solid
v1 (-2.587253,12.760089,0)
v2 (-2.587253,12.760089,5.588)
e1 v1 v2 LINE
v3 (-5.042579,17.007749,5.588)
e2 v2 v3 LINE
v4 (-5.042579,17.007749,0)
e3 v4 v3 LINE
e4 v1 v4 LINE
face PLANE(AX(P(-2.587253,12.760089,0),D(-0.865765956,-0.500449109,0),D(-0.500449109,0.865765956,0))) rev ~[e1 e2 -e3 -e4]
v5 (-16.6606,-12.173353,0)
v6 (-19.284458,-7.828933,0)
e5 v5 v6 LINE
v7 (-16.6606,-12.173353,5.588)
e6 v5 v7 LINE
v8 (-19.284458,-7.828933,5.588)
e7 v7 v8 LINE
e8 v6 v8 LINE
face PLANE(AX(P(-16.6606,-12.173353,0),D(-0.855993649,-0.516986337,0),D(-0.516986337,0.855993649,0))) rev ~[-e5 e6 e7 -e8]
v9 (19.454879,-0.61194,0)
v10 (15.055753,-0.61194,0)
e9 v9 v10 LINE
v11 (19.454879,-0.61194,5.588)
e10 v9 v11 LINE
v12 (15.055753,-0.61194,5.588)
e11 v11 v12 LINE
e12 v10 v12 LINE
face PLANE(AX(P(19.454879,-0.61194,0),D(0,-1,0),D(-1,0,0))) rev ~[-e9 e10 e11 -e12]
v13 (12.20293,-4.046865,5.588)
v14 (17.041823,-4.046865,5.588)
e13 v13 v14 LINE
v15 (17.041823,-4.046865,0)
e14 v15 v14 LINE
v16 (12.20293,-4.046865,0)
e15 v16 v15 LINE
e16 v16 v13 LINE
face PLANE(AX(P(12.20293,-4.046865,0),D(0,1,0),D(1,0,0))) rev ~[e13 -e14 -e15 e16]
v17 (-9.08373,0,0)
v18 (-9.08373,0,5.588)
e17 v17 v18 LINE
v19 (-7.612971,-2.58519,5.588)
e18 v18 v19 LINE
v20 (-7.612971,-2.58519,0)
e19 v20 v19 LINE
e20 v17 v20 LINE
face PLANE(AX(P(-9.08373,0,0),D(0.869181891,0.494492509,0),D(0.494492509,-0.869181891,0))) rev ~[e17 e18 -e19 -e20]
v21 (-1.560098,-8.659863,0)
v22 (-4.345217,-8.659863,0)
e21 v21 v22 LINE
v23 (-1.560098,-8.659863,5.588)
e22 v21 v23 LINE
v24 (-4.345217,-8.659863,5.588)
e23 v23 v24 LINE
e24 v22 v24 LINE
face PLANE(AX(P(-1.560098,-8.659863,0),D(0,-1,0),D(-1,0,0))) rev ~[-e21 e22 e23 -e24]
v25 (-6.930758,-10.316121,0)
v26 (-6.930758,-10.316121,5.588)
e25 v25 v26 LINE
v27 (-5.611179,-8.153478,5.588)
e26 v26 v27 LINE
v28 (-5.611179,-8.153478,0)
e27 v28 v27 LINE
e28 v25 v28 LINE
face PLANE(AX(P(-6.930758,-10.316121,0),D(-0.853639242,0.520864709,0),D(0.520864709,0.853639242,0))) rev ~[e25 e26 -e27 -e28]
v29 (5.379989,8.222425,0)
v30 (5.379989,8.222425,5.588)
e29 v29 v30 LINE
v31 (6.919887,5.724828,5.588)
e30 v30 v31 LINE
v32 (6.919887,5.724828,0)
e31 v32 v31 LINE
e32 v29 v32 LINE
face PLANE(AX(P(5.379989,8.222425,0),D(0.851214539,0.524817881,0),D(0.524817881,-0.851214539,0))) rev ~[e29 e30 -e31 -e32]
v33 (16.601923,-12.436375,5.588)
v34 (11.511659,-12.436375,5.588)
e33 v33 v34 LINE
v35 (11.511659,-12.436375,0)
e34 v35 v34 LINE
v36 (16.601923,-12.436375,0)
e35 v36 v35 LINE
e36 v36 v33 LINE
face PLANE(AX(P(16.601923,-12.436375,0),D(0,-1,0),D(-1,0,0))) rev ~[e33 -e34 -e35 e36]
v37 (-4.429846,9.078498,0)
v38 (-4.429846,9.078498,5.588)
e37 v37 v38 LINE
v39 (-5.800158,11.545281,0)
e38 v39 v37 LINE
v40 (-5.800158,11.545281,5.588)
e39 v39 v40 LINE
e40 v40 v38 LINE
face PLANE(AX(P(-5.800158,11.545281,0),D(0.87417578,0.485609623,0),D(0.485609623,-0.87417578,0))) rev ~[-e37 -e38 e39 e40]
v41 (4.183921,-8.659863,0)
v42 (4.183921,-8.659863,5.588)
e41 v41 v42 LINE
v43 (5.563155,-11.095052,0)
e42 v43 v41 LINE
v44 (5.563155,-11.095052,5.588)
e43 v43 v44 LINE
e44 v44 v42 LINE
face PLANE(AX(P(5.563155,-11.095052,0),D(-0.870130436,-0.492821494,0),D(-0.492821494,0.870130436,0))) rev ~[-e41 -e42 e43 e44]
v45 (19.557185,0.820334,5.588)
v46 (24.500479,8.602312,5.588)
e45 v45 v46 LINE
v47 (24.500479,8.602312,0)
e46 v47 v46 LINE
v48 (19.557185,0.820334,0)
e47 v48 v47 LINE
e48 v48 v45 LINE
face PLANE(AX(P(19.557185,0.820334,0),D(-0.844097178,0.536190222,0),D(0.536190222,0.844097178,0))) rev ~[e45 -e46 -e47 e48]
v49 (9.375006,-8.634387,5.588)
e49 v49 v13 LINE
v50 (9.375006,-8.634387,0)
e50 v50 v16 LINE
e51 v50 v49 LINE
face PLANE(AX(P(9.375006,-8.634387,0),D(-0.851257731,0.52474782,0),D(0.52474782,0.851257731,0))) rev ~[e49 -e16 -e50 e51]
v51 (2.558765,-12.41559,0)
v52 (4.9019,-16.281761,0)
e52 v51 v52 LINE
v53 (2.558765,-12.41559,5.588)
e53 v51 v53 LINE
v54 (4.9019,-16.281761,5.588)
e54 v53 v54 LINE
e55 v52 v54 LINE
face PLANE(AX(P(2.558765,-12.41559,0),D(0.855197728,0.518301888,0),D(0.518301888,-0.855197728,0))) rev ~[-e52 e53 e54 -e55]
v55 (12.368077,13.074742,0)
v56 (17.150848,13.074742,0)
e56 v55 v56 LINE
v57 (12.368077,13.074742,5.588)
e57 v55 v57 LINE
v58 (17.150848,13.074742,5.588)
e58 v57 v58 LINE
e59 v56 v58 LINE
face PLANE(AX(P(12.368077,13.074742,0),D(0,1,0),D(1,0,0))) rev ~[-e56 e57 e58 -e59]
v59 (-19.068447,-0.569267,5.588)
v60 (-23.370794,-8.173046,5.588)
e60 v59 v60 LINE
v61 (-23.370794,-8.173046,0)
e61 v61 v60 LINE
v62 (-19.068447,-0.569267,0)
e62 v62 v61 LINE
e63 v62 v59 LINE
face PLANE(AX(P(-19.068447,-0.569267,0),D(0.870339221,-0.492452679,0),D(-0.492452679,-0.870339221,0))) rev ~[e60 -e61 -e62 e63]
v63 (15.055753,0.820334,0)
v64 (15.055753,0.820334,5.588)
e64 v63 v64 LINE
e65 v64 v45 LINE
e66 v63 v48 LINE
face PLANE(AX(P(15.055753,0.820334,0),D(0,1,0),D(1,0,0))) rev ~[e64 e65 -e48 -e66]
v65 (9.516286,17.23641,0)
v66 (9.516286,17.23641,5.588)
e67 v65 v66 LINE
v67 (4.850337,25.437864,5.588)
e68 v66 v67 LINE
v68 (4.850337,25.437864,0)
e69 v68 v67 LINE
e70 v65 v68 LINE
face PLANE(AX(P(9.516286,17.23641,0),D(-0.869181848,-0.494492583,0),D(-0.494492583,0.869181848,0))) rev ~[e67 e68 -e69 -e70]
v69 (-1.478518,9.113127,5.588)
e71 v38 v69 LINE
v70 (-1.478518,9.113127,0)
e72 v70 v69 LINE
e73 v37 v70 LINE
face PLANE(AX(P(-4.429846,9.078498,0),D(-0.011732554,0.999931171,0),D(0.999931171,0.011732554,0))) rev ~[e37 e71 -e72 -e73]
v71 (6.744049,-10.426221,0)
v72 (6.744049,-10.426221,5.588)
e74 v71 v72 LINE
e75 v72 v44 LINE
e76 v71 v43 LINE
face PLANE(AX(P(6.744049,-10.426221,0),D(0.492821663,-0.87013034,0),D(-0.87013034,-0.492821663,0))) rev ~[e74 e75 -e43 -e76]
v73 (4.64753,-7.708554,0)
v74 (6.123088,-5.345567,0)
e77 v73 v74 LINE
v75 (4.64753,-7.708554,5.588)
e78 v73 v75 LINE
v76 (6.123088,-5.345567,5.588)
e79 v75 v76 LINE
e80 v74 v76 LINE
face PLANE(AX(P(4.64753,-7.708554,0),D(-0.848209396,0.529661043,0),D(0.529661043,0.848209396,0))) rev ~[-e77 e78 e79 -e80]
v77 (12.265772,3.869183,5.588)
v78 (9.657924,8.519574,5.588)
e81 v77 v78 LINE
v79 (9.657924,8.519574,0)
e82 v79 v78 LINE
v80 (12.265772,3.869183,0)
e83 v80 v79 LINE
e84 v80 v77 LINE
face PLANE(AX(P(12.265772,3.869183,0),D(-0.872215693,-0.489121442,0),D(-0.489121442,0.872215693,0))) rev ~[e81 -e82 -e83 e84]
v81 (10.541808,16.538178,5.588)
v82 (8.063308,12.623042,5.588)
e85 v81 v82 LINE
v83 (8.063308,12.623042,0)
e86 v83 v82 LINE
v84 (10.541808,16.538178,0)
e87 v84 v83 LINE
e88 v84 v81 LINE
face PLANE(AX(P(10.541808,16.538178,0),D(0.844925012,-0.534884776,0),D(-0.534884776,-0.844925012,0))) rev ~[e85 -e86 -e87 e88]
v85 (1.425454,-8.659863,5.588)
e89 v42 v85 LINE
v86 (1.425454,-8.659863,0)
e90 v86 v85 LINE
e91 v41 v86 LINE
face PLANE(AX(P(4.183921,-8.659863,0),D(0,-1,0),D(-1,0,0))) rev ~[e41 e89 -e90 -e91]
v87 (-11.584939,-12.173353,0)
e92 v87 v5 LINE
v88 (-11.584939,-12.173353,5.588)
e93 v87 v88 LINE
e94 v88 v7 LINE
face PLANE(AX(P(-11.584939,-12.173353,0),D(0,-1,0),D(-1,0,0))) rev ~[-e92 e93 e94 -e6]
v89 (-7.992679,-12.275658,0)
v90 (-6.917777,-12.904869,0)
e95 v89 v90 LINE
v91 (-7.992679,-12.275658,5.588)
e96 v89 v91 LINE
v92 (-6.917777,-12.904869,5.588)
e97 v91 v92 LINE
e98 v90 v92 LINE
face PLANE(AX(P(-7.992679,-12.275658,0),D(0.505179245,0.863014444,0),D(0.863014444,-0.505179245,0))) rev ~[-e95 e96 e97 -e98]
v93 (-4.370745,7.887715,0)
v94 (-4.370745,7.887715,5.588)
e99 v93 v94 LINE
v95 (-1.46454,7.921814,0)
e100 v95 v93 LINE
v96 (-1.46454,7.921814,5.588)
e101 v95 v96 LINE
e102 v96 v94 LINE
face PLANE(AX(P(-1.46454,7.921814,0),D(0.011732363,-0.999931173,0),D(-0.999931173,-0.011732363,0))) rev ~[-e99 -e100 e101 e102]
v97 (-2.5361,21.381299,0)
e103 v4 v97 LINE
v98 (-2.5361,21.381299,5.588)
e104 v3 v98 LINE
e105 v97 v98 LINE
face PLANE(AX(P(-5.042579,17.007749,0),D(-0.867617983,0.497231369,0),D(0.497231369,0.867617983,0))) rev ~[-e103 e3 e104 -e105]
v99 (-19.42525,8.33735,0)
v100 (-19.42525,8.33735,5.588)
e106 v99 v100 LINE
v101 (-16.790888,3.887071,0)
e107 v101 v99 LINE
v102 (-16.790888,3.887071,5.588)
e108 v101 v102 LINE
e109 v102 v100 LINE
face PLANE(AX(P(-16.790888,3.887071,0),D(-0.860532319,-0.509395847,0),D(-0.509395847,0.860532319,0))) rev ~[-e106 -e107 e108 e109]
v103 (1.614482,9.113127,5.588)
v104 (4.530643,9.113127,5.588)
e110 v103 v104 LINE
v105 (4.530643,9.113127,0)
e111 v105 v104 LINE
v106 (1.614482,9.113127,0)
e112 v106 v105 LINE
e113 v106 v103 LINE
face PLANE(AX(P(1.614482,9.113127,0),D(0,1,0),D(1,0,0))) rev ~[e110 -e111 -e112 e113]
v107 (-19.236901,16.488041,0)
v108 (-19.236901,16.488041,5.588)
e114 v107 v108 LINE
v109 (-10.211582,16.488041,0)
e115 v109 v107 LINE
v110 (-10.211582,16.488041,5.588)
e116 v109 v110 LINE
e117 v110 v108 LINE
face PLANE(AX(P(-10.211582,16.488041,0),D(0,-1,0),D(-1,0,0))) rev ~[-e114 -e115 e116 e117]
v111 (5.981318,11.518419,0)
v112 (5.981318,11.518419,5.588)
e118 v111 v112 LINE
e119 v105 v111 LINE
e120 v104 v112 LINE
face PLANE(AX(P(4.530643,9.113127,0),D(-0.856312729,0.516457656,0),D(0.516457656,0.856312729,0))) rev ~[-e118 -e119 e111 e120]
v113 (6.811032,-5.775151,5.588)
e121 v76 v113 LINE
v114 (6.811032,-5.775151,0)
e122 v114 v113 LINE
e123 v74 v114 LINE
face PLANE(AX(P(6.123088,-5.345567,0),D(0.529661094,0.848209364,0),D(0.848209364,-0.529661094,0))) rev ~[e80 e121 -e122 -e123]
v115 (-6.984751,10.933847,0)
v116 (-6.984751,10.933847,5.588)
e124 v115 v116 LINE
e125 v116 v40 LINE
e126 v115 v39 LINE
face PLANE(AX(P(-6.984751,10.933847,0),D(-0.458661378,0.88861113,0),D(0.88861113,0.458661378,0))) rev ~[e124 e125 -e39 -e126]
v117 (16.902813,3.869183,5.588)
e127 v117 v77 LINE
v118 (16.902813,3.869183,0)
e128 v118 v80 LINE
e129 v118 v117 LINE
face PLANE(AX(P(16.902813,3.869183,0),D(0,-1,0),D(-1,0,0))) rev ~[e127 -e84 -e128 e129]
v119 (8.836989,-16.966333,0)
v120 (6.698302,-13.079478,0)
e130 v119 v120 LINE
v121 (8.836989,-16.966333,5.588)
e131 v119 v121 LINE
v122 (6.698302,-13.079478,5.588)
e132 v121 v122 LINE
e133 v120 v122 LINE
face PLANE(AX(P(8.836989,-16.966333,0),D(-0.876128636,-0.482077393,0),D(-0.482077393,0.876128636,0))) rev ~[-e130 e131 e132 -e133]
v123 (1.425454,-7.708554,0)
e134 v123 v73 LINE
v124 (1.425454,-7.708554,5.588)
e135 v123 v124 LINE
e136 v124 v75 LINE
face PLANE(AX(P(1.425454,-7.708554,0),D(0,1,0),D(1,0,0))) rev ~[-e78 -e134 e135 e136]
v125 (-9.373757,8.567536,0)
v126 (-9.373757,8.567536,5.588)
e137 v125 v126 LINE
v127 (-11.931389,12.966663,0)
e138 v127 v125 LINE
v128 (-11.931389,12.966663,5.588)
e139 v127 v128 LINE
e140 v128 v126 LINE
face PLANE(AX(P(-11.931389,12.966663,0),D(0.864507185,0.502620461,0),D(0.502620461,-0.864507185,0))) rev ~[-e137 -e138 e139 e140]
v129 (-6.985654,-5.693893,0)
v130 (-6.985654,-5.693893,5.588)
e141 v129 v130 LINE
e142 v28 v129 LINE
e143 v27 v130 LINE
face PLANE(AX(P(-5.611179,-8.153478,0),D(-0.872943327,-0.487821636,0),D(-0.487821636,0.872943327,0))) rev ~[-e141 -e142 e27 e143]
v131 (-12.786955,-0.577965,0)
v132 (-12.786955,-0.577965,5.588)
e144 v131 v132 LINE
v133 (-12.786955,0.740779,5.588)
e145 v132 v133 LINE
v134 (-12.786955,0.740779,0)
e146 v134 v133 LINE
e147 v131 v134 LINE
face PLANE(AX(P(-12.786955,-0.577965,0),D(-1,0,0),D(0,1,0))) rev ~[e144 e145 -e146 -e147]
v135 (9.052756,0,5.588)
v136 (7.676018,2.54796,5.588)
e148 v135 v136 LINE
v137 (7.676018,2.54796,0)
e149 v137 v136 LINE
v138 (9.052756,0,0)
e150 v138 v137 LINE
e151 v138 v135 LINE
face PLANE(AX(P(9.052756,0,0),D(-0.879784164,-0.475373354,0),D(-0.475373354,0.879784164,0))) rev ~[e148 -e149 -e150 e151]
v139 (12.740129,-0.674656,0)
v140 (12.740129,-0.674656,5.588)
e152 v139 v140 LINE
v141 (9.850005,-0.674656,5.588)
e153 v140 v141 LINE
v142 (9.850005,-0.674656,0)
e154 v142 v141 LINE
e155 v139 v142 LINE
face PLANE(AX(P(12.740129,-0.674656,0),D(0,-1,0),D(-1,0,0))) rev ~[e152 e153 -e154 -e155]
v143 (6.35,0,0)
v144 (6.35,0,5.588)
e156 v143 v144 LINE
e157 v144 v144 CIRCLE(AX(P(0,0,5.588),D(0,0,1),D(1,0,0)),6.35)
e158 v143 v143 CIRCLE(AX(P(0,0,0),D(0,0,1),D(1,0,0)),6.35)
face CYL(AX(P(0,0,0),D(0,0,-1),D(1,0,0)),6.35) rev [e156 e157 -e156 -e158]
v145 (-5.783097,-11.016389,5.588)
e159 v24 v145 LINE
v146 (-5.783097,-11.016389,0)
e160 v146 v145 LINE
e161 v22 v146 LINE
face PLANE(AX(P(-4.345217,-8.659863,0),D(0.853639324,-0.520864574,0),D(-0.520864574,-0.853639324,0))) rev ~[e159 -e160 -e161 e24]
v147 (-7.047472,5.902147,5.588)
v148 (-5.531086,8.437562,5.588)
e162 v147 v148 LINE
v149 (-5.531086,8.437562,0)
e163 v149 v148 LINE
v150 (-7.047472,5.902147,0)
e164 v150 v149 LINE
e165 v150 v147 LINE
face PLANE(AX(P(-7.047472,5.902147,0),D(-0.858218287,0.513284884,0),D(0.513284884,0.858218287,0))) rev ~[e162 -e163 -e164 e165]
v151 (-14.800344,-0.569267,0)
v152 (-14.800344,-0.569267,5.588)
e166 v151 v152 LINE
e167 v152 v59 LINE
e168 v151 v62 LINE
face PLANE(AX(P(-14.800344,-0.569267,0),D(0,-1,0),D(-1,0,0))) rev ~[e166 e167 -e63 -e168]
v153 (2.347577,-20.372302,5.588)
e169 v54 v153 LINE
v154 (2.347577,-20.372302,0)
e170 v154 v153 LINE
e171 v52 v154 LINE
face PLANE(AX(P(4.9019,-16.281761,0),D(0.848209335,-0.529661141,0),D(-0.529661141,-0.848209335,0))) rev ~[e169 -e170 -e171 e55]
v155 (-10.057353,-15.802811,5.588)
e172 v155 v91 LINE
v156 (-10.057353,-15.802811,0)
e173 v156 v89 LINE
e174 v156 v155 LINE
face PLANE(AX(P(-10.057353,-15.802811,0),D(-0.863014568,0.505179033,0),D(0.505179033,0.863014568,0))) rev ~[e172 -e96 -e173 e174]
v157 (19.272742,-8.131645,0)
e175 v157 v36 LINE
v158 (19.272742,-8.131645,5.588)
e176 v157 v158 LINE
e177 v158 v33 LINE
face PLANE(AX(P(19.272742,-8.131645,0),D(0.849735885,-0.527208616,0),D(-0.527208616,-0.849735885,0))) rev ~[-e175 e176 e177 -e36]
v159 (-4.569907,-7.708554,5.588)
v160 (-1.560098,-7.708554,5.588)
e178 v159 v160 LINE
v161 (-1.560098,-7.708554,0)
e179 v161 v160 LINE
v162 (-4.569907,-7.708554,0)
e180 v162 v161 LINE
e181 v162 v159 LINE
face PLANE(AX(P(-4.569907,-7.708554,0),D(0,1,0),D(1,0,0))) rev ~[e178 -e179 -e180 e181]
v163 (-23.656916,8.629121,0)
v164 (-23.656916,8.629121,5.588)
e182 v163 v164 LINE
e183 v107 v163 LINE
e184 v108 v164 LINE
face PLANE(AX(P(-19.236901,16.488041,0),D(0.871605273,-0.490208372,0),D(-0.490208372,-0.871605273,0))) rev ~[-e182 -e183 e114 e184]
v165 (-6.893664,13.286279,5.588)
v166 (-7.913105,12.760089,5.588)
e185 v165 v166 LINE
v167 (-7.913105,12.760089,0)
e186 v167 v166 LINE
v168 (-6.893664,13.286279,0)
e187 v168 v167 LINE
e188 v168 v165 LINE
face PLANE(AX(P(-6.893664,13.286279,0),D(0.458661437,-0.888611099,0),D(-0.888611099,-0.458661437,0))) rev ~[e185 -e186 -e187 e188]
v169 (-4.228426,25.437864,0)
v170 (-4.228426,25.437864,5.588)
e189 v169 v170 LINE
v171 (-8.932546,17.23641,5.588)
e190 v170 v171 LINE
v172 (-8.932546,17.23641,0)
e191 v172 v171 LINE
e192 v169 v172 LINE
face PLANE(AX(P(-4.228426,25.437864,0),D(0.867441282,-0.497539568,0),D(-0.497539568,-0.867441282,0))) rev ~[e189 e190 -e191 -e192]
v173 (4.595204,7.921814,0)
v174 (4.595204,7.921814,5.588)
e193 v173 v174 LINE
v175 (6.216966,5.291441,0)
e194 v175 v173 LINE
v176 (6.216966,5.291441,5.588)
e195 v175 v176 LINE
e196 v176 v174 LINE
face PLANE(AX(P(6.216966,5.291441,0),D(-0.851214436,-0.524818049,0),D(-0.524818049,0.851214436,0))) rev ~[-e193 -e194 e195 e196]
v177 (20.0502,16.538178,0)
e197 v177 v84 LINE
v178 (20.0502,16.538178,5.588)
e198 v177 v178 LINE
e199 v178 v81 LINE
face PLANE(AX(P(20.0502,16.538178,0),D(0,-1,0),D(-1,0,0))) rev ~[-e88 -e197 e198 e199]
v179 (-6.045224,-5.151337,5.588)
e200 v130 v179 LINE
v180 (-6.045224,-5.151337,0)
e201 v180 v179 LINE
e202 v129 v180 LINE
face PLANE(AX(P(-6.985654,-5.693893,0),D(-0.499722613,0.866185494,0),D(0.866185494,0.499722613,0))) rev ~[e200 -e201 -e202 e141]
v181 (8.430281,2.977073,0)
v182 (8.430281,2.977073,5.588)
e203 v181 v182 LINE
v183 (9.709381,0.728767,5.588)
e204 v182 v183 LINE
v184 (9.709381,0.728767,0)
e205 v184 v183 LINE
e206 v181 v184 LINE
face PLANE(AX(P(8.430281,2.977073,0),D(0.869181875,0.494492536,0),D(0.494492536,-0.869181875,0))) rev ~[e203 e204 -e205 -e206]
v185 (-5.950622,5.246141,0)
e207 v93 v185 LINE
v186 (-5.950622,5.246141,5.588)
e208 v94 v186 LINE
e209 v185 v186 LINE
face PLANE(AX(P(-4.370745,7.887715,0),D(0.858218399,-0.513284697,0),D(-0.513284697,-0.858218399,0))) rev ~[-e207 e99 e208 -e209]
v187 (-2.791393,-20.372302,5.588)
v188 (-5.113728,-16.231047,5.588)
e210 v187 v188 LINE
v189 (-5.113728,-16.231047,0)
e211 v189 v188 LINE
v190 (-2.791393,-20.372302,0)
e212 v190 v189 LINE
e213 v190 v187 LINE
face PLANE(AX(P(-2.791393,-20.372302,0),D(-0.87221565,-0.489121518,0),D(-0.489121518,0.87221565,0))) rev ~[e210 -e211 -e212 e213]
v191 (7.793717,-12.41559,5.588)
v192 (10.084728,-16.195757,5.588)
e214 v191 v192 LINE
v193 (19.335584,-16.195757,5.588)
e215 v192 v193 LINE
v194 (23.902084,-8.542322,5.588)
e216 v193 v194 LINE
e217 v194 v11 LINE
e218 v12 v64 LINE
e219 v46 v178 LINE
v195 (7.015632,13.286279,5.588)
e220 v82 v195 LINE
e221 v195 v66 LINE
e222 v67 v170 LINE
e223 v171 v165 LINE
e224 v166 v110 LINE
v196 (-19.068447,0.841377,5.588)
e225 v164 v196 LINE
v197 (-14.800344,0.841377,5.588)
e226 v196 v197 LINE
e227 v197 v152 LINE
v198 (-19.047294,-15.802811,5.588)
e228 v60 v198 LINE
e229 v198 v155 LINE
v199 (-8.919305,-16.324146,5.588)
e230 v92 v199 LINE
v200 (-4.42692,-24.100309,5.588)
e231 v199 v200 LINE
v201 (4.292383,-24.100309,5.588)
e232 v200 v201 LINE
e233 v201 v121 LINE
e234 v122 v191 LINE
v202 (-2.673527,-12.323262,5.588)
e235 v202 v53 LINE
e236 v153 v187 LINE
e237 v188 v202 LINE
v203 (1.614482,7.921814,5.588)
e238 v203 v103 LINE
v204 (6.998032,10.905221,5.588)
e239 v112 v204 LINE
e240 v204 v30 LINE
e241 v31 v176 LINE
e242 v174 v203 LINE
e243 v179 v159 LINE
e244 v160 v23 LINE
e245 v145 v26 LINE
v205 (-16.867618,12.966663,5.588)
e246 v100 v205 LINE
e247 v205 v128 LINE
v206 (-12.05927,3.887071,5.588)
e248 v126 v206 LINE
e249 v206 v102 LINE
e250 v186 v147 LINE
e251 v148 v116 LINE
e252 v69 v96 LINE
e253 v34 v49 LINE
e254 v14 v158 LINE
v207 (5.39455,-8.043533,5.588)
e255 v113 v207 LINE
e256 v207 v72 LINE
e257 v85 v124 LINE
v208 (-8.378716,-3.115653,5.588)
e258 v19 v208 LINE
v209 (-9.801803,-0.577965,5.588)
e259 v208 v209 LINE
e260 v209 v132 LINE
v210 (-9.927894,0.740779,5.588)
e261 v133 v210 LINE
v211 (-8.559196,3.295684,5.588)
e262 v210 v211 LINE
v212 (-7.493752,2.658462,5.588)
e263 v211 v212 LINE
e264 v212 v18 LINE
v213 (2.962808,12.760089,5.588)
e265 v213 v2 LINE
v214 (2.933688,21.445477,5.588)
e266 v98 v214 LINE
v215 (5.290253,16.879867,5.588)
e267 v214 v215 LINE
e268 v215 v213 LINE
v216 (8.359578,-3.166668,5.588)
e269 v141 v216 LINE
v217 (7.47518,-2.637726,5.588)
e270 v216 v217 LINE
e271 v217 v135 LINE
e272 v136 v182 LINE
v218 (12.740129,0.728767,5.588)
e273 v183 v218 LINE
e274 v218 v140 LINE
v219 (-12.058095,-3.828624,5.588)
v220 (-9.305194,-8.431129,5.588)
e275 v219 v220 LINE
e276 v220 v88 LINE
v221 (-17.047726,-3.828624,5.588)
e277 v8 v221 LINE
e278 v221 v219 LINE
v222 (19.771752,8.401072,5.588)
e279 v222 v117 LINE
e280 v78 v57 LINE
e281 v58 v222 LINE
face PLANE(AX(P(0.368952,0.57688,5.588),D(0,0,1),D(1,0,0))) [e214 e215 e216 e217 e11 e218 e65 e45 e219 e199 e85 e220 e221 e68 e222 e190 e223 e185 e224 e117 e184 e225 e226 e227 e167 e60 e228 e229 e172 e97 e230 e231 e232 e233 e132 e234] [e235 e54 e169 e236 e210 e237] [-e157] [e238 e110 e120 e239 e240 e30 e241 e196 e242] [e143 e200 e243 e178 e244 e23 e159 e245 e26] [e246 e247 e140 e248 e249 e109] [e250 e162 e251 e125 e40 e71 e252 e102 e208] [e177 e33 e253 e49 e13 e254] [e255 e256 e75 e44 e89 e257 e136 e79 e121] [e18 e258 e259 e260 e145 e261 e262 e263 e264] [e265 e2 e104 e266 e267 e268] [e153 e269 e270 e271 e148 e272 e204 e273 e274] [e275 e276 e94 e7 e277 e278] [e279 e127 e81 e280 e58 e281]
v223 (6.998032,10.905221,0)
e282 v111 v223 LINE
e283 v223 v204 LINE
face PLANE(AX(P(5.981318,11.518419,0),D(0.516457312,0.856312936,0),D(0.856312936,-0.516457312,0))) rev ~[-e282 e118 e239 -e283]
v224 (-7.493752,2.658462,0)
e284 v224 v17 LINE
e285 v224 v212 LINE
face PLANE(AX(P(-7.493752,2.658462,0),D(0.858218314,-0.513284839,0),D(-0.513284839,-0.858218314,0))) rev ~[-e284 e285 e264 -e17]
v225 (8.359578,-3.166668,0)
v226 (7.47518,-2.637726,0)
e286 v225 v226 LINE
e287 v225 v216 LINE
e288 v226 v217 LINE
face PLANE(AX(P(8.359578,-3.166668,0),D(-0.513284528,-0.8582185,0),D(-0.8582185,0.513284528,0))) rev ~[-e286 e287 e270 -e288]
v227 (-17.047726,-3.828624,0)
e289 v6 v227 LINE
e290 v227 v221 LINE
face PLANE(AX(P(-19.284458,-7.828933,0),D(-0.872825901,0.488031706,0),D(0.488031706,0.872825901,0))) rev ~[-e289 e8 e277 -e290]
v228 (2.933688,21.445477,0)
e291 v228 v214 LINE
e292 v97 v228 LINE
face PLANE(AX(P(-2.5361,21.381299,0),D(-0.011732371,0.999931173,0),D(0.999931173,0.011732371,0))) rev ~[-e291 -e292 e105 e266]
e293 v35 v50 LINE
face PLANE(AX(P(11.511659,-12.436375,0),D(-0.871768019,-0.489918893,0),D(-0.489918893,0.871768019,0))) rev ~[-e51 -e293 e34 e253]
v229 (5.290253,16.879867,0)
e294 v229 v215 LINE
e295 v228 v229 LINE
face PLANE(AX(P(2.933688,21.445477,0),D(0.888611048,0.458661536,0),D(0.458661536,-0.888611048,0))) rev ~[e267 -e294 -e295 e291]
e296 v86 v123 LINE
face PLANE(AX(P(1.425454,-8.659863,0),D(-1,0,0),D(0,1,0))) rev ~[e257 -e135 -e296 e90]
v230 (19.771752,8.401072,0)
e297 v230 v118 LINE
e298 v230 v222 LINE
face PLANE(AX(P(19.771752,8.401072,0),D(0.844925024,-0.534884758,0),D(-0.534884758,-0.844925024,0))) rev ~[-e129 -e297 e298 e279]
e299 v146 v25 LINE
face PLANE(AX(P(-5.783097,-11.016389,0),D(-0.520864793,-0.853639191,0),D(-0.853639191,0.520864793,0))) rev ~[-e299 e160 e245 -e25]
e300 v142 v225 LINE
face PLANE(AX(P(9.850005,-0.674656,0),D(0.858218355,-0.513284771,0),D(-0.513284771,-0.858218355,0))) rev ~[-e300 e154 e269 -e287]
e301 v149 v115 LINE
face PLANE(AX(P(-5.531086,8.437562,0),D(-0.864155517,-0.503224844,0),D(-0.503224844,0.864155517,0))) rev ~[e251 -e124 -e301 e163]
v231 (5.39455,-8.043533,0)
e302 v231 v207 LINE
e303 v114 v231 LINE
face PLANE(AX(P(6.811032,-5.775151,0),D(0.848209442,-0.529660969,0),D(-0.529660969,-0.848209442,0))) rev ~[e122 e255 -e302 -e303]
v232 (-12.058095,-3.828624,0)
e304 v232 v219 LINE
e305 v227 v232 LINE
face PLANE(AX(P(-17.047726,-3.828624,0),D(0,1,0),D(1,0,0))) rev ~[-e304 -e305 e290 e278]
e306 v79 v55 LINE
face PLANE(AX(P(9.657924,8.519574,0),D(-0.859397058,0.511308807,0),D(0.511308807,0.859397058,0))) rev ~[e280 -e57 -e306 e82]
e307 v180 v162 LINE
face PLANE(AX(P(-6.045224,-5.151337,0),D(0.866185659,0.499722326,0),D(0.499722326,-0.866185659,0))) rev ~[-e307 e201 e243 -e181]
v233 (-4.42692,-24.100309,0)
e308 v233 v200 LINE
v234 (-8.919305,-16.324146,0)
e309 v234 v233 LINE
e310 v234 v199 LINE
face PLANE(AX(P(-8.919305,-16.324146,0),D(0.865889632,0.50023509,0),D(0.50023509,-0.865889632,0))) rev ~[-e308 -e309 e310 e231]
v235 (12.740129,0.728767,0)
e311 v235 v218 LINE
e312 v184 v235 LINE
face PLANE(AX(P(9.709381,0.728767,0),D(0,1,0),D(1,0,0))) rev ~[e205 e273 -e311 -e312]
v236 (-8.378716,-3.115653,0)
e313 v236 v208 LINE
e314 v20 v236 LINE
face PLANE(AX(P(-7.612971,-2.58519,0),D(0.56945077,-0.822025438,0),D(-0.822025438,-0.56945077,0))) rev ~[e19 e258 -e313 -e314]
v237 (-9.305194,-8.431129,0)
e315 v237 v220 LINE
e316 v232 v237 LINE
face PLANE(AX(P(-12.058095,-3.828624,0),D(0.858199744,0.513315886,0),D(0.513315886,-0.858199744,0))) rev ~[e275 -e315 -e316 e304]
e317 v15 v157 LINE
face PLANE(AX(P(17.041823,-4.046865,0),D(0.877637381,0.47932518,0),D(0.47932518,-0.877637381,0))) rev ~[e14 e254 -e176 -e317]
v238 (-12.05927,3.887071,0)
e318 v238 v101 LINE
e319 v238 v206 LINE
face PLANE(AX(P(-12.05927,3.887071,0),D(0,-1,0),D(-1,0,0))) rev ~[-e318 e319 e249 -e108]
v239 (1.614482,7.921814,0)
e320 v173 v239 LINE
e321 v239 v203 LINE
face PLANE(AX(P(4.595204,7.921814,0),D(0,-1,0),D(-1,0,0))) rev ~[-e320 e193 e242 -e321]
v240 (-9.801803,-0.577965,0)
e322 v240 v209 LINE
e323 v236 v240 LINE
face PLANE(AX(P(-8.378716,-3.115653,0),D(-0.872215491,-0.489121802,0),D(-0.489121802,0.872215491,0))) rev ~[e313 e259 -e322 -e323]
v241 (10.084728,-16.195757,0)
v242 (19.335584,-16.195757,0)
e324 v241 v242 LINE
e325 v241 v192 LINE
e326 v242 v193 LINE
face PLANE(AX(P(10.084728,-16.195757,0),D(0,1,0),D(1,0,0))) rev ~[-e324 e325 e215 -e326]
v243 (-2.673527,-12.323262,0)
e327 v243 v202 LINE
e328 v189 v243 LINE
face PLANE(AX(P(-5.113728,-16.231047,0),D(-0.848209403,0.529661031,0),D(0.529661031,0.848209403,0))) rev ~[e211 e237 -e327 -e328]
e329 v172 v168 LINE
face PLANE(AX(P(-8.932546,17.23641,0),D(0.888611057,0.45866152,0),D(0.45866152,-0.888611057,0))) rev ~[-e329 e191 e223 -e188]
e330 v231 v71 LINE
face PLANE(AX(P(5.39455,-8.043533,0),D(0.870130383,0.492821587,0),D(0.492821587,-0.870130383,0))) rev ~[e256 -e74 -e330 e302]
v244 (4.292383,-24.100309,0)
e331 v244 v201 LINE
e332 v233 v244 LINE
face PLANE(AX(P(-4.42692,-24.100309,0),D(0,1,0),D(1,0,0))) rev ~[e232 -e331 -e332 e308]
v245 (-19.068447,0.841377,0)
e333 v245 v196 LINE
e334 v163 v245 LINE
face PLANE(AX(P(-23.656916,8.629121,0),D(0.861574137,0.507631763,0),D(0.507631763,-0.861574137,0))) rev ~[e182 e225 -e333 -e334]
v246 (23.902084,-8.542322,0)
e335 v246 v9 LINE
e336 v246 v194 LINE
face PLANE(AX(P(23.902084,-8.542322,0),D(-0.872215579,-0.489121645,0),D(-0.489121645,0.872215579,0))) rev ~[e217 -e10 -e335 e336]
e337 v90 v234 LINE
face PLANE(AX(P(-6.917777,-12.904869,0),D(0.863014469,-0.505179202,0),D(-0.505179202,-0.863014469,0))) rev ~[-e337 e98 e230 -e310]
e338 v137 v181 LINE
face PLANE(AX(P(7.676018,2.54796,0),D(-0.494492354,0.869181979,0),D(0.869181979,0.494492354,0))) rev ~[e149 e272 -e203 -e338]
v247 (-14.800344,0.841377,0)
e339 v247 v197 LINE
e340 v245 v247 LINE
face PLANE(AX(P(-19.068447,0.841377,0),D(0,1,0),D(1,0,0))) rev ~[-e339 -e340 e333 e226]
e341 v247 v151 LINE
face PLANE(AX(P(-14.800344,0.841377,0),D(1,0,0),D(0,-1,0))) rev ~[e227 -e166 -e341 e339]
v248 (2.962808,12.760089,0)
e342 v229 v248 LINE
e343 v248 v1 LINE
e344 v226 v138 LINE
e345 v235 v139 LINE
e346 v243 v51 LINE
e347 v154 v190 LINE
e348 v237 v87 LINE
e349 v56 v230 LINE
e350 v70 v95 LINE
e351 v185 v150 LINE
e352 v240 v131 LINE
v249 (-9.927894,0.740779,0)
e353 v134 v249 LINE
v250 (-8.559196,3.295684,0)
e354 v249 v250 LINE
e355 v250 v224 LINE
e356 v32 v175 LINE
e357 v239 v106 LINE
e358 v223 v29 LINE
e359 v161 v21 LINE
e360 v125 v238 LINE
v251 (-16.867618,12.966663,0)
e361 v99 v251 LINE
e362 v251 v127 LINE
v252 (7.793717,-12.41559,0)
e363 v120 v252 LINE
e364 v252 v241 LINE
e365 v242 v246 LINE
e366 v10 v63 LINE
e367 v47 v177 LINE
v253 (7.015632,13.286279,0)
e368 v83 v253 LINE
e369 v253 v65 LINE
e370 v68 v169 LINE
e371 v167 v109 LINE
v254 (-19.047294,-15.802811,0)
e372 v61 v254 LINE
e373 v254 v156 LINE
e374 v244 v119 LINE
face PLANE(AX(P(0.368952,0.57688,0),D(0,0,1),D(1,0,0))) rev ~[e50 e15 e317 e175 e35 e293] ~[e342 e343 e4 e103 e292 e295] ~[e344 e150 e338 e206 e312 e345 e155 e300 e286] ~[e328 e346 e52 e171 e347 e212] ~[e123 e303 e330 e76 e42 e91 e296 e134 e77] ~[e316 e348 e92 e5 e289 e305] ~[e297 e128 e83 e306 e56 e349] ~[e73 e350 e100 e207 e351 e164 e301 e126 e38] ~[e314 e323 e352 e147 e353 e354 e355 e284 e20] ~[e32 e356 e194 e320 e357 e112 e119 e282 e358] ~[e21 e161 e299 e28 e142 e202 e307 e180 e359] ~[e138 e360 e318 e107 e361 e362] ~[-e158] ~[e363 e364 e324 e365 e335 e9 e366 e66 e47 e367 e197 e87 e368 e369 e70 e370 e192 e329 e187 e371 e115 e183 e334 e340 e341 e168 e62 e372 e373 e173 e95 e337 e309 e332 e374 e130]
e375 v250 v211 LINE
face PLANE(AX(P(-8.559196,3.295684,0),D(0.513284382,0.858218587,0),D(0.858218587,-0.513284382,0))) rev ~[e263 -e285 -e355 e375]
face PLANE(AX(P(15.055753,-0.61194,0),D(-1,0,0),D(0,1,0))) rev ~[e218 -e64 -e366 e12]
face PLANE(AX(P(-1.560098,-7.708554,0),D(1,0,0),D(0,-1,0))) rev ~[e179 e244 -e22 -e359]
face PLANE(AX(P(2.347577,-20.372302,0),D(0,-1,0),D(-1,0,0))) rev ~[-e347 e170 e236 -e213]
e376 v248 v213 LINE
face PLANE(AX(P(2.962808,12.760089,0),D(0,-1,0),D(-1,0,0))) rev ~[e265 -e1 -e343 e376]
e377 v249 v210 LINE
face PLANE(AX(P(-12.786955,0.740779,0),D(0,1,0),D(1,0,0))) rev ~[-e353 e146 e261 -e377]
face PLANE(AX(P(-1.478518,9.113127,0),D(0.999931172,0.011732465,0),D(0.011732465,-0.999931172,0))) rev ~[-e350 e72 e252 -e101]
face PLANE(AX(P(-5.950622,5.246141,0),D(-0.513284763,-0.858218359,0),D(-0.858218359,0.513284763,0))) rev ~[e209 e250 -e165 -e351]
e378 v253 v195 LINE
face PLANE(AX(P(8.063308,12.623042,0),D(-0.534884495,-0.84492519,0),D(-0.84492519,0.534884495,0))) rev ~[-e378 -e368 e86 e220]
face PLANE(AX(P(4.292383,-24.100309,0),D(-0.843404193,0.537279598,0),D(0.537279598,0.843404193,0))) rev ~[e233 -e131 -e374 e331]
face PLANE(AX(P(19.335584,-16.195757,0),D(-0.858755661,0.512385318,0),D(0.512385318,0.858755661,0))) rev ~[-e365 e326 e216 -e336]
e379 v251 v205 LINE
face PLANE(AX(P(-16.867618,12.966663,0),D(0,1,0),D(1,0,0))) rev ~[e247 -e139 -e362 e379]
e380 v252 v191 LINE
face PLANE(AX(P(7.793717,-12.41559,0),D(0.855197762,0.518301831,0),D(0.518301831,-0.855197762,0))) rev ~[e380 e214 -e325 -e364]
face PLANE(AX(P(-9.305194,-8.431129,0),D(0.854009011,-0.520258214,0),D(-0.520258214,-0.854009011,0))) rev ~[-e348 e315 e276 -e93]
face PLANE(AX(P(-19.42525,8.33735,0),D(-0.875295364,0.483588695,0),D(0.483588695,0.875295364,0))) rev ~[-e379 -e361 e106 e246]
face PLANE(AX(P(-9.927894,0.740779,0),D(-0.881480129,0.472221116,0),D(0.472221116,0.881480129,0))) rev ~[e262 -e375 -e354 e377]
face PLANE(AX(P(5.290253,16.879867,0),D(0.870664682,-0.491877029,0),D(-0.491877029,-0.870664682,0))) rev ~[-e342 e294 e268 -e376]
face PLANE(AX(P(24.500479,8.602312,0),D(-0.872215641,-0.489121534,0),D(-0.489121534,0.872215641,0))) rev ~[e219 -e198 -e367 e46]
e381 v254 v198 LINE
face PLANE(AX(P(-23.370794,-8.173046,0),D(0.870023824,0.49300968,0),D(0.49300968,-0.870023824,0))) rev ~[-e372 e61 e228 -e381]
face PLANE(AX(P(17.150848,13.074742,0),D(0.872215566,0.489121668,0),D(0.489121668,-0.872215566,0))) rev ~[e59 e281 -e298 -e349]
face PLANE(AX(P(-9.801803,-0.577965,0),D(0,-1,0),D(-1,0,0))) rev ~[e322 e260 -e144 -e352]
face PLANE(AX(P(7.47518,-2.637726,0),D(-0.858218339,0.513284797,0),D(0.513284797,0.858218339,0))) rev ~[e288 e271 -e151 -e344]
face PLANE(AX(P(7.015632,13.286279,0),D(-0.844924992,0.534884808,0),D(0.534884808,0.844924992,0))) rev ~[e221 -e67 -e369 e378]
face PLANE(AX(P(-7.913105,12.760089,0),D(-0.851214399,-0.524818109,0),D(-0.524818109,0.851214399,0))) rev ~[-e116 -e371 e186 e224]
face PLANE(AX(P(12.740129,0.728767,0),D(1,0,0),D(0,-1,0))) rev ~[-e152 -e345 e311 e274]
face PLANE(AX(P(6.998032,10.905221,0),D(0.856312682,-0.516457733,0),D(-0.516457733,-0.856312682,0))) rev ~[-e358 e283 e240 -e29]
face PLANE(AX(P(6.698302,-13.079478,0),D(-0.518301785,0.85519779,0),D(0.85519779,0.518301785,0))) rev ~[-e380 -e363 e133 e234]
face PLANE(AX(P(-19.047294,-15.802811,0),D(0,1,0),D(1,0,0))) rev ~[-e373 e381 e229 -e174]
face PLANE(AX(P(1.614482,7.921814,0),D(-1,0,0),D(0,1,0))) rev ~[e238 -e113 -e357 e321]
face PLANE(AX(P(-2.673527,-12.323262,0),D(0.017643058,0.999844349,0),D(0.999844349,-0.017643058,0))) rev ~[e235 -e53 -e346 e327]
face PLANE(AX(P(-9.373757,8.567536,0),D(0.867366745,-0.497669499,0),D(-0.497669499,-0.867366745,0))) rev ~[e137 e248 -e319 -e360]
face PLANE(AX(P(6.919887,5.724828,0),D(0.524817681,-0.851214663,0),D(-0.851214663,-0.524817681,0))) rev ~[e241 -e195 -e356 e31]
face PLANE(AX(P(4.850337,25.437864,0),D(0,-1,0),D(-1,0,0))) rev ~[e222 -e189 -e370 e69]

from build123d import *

# Parameters (mm, degrees)
F0_R     = 6.35
F1_DEPTH = 5.588


with BuildPart() as f1:
    # F0 (on Top) → F1 (new body)
    with BuildSketch(Plane.XY):
        Polygon((4.850337, 25.437864), (-4.228426, 25.437864), (-8.932546, 17.23641), (-6.893664, 13.286279), (-7.913105, 12.760089), (-10.211582, 16.488041), (-19.236901, 16.488041), (-23.656916, 8.629121), (-19.068447, 0.841377), (-14.800344, 0.841377), (-14.800344, -0.569267), (-19.068447, -0.569267), (-23.370794, -8.173046), (-19.047294, -15.802811), (-10.057353, -15.802811), (-7.992679, -12.275658), (-6.917777, -12.904869), (-8.919305, -16.324146), (-4.42692, -24.100309), (4.292383, -24.100309), (8.836989, -16.966333), (6.698302, -13.079478), (7.793717, -12.41559), (10.084728, -16.195757), (19.335584, -16.195757), (23.902084, -8.542322), (19.454879, -0.61194), (15.055753, -0.61194), (15.055753, 0.820334), (19.557185, 0.820334), (24.500479, 8.602312), (20.0502, 16.538178), (10.541808, 16.538178), (8.063308, 12.623042), (7.015632, 13.286279), (9.516286, 17.23641), align=None)
        Polygon((-2.673527, -12.323262), (2.558765, -12.41559), (4.9019, -16.281761), (2.347577, -20.372302), (-2.791393, -20.372302), (-5.113728, -16.231047), align=None, mode=Mode.SUBTRACT)
        Polygon((-19.284458, -7.828933), (-17.047726, -3.828624), (-12.058095, -3.828624), (-9.305194, -8.431129), (-11.584939, -12.173353), (-16.6606, -12.173353), align=None, mode=Mode.SUBTRACT)
        Polygon((-5.611179, -8.153478), (-6.985654, -5.693893), (-6.045224, -5.151337), (-4.569907, -7.708554), (-1.560098, -7.708554), (-1.560098, -8.659863), (-4.345217, -8.659863), (-5.783097, -11.016389), (-6.930758, -10.316121), align=None, mode=Mode.SUBTRACT)
        Polygon((-9.927894, 0.740779), (-8.559196, 3.295684), (-7.493752, 2.658462), (-9.08373, 0), (-7.612971, -2.58519), (-8.378716, -3.115653), (-9.801803, -0.577965), (-12.786955, -0.577965), (-12.786955, 0.740779), align=None, mode=Mode.SUBTRACT)
        Circle(F0_R, mode=Mode.SUBTRACT)
        Polygon((1.425454, -8.659863), (1.425454, -7.708554), (4.64753, -7.708554), (6.123088, -5.345567), (6.811032, -5.775151), (5.39455, -8.043533), (6.744049, -10.426221), (5.563155, -11.095052), (4.183921, -8.659863), align=None, mode=Mode.SUBTRACT)
        Polygon((9.052756, 0), (7.676018, 2.54796), (8.430281, 2.977073), (9.709381, 0.728767), (12.740129, 0.728767), (12.740129, -0.674656), (9.850005, -0.674656), (8.359578, -3.166668), (7.47518, -2.637726), align=None, mode=Mode.SUBTRACT)
        Polygon((11.511659, -12.436375), (9.375006, -8.634387), (12.20293, -4.046865), (17.041823, -4.046865), (19.272742, -8.131645), (16.601923, -12.436375), align=None, mode=Mode.SUBTRACT)
        Polygon((-19.42525, 8.33735), (-16.867618, 12.966663), (-11.931389, 12.966663), (-9.373757, 8.567536), (-12.05927, 3.887071), (-16.790888, 3.887071), align=None, mode=Mode.SUBTRACT)
        Polygon((-5.531086, 8.437562), (-6.984751, 10.933847), (-5.800158, 11.545281), (-4.429846, 9.078498), (-1.478518, 9.113127), (-1.46454, 7.921814), (-4.370745, 7.887715), (-5.950622, 5.246141), (-7.047472, 5.902147), align=None, mode=Mode.SUBTRACT)
        Polygon((-5.042579, 17.007749), (-2.5361, 21.381299), (2.933688, 21.445477), (5.290253, 16.879867), (2.962808, 12.760089), (-2.587253, 12.760089), align=None, mode=Mode.SUBTRACT)
        Polygon((1.614482, 7.921814), (1.614482, 9.113127), (4.530643, 9.113127), (5.981318, 11.518419), (6.998032, 10.905221), (5.379989, 8.222425), (6.919887, 5.724828), (6.216966, 5.291441), (4.595204, 7.921814), align=None, mode=Mode.SUBTRACT)
        Polygon((9.657924, 8.519574), (12.368077, 13.074742), (17.150848, 13.074742), (19.771752, 8.401072), (16.902813, 3.869183), (12.265772, 3.869183), align=None, mode=Mode.SUBTRACT)
    extrude(amount=F1_DEPTH)


solid = f1.part
